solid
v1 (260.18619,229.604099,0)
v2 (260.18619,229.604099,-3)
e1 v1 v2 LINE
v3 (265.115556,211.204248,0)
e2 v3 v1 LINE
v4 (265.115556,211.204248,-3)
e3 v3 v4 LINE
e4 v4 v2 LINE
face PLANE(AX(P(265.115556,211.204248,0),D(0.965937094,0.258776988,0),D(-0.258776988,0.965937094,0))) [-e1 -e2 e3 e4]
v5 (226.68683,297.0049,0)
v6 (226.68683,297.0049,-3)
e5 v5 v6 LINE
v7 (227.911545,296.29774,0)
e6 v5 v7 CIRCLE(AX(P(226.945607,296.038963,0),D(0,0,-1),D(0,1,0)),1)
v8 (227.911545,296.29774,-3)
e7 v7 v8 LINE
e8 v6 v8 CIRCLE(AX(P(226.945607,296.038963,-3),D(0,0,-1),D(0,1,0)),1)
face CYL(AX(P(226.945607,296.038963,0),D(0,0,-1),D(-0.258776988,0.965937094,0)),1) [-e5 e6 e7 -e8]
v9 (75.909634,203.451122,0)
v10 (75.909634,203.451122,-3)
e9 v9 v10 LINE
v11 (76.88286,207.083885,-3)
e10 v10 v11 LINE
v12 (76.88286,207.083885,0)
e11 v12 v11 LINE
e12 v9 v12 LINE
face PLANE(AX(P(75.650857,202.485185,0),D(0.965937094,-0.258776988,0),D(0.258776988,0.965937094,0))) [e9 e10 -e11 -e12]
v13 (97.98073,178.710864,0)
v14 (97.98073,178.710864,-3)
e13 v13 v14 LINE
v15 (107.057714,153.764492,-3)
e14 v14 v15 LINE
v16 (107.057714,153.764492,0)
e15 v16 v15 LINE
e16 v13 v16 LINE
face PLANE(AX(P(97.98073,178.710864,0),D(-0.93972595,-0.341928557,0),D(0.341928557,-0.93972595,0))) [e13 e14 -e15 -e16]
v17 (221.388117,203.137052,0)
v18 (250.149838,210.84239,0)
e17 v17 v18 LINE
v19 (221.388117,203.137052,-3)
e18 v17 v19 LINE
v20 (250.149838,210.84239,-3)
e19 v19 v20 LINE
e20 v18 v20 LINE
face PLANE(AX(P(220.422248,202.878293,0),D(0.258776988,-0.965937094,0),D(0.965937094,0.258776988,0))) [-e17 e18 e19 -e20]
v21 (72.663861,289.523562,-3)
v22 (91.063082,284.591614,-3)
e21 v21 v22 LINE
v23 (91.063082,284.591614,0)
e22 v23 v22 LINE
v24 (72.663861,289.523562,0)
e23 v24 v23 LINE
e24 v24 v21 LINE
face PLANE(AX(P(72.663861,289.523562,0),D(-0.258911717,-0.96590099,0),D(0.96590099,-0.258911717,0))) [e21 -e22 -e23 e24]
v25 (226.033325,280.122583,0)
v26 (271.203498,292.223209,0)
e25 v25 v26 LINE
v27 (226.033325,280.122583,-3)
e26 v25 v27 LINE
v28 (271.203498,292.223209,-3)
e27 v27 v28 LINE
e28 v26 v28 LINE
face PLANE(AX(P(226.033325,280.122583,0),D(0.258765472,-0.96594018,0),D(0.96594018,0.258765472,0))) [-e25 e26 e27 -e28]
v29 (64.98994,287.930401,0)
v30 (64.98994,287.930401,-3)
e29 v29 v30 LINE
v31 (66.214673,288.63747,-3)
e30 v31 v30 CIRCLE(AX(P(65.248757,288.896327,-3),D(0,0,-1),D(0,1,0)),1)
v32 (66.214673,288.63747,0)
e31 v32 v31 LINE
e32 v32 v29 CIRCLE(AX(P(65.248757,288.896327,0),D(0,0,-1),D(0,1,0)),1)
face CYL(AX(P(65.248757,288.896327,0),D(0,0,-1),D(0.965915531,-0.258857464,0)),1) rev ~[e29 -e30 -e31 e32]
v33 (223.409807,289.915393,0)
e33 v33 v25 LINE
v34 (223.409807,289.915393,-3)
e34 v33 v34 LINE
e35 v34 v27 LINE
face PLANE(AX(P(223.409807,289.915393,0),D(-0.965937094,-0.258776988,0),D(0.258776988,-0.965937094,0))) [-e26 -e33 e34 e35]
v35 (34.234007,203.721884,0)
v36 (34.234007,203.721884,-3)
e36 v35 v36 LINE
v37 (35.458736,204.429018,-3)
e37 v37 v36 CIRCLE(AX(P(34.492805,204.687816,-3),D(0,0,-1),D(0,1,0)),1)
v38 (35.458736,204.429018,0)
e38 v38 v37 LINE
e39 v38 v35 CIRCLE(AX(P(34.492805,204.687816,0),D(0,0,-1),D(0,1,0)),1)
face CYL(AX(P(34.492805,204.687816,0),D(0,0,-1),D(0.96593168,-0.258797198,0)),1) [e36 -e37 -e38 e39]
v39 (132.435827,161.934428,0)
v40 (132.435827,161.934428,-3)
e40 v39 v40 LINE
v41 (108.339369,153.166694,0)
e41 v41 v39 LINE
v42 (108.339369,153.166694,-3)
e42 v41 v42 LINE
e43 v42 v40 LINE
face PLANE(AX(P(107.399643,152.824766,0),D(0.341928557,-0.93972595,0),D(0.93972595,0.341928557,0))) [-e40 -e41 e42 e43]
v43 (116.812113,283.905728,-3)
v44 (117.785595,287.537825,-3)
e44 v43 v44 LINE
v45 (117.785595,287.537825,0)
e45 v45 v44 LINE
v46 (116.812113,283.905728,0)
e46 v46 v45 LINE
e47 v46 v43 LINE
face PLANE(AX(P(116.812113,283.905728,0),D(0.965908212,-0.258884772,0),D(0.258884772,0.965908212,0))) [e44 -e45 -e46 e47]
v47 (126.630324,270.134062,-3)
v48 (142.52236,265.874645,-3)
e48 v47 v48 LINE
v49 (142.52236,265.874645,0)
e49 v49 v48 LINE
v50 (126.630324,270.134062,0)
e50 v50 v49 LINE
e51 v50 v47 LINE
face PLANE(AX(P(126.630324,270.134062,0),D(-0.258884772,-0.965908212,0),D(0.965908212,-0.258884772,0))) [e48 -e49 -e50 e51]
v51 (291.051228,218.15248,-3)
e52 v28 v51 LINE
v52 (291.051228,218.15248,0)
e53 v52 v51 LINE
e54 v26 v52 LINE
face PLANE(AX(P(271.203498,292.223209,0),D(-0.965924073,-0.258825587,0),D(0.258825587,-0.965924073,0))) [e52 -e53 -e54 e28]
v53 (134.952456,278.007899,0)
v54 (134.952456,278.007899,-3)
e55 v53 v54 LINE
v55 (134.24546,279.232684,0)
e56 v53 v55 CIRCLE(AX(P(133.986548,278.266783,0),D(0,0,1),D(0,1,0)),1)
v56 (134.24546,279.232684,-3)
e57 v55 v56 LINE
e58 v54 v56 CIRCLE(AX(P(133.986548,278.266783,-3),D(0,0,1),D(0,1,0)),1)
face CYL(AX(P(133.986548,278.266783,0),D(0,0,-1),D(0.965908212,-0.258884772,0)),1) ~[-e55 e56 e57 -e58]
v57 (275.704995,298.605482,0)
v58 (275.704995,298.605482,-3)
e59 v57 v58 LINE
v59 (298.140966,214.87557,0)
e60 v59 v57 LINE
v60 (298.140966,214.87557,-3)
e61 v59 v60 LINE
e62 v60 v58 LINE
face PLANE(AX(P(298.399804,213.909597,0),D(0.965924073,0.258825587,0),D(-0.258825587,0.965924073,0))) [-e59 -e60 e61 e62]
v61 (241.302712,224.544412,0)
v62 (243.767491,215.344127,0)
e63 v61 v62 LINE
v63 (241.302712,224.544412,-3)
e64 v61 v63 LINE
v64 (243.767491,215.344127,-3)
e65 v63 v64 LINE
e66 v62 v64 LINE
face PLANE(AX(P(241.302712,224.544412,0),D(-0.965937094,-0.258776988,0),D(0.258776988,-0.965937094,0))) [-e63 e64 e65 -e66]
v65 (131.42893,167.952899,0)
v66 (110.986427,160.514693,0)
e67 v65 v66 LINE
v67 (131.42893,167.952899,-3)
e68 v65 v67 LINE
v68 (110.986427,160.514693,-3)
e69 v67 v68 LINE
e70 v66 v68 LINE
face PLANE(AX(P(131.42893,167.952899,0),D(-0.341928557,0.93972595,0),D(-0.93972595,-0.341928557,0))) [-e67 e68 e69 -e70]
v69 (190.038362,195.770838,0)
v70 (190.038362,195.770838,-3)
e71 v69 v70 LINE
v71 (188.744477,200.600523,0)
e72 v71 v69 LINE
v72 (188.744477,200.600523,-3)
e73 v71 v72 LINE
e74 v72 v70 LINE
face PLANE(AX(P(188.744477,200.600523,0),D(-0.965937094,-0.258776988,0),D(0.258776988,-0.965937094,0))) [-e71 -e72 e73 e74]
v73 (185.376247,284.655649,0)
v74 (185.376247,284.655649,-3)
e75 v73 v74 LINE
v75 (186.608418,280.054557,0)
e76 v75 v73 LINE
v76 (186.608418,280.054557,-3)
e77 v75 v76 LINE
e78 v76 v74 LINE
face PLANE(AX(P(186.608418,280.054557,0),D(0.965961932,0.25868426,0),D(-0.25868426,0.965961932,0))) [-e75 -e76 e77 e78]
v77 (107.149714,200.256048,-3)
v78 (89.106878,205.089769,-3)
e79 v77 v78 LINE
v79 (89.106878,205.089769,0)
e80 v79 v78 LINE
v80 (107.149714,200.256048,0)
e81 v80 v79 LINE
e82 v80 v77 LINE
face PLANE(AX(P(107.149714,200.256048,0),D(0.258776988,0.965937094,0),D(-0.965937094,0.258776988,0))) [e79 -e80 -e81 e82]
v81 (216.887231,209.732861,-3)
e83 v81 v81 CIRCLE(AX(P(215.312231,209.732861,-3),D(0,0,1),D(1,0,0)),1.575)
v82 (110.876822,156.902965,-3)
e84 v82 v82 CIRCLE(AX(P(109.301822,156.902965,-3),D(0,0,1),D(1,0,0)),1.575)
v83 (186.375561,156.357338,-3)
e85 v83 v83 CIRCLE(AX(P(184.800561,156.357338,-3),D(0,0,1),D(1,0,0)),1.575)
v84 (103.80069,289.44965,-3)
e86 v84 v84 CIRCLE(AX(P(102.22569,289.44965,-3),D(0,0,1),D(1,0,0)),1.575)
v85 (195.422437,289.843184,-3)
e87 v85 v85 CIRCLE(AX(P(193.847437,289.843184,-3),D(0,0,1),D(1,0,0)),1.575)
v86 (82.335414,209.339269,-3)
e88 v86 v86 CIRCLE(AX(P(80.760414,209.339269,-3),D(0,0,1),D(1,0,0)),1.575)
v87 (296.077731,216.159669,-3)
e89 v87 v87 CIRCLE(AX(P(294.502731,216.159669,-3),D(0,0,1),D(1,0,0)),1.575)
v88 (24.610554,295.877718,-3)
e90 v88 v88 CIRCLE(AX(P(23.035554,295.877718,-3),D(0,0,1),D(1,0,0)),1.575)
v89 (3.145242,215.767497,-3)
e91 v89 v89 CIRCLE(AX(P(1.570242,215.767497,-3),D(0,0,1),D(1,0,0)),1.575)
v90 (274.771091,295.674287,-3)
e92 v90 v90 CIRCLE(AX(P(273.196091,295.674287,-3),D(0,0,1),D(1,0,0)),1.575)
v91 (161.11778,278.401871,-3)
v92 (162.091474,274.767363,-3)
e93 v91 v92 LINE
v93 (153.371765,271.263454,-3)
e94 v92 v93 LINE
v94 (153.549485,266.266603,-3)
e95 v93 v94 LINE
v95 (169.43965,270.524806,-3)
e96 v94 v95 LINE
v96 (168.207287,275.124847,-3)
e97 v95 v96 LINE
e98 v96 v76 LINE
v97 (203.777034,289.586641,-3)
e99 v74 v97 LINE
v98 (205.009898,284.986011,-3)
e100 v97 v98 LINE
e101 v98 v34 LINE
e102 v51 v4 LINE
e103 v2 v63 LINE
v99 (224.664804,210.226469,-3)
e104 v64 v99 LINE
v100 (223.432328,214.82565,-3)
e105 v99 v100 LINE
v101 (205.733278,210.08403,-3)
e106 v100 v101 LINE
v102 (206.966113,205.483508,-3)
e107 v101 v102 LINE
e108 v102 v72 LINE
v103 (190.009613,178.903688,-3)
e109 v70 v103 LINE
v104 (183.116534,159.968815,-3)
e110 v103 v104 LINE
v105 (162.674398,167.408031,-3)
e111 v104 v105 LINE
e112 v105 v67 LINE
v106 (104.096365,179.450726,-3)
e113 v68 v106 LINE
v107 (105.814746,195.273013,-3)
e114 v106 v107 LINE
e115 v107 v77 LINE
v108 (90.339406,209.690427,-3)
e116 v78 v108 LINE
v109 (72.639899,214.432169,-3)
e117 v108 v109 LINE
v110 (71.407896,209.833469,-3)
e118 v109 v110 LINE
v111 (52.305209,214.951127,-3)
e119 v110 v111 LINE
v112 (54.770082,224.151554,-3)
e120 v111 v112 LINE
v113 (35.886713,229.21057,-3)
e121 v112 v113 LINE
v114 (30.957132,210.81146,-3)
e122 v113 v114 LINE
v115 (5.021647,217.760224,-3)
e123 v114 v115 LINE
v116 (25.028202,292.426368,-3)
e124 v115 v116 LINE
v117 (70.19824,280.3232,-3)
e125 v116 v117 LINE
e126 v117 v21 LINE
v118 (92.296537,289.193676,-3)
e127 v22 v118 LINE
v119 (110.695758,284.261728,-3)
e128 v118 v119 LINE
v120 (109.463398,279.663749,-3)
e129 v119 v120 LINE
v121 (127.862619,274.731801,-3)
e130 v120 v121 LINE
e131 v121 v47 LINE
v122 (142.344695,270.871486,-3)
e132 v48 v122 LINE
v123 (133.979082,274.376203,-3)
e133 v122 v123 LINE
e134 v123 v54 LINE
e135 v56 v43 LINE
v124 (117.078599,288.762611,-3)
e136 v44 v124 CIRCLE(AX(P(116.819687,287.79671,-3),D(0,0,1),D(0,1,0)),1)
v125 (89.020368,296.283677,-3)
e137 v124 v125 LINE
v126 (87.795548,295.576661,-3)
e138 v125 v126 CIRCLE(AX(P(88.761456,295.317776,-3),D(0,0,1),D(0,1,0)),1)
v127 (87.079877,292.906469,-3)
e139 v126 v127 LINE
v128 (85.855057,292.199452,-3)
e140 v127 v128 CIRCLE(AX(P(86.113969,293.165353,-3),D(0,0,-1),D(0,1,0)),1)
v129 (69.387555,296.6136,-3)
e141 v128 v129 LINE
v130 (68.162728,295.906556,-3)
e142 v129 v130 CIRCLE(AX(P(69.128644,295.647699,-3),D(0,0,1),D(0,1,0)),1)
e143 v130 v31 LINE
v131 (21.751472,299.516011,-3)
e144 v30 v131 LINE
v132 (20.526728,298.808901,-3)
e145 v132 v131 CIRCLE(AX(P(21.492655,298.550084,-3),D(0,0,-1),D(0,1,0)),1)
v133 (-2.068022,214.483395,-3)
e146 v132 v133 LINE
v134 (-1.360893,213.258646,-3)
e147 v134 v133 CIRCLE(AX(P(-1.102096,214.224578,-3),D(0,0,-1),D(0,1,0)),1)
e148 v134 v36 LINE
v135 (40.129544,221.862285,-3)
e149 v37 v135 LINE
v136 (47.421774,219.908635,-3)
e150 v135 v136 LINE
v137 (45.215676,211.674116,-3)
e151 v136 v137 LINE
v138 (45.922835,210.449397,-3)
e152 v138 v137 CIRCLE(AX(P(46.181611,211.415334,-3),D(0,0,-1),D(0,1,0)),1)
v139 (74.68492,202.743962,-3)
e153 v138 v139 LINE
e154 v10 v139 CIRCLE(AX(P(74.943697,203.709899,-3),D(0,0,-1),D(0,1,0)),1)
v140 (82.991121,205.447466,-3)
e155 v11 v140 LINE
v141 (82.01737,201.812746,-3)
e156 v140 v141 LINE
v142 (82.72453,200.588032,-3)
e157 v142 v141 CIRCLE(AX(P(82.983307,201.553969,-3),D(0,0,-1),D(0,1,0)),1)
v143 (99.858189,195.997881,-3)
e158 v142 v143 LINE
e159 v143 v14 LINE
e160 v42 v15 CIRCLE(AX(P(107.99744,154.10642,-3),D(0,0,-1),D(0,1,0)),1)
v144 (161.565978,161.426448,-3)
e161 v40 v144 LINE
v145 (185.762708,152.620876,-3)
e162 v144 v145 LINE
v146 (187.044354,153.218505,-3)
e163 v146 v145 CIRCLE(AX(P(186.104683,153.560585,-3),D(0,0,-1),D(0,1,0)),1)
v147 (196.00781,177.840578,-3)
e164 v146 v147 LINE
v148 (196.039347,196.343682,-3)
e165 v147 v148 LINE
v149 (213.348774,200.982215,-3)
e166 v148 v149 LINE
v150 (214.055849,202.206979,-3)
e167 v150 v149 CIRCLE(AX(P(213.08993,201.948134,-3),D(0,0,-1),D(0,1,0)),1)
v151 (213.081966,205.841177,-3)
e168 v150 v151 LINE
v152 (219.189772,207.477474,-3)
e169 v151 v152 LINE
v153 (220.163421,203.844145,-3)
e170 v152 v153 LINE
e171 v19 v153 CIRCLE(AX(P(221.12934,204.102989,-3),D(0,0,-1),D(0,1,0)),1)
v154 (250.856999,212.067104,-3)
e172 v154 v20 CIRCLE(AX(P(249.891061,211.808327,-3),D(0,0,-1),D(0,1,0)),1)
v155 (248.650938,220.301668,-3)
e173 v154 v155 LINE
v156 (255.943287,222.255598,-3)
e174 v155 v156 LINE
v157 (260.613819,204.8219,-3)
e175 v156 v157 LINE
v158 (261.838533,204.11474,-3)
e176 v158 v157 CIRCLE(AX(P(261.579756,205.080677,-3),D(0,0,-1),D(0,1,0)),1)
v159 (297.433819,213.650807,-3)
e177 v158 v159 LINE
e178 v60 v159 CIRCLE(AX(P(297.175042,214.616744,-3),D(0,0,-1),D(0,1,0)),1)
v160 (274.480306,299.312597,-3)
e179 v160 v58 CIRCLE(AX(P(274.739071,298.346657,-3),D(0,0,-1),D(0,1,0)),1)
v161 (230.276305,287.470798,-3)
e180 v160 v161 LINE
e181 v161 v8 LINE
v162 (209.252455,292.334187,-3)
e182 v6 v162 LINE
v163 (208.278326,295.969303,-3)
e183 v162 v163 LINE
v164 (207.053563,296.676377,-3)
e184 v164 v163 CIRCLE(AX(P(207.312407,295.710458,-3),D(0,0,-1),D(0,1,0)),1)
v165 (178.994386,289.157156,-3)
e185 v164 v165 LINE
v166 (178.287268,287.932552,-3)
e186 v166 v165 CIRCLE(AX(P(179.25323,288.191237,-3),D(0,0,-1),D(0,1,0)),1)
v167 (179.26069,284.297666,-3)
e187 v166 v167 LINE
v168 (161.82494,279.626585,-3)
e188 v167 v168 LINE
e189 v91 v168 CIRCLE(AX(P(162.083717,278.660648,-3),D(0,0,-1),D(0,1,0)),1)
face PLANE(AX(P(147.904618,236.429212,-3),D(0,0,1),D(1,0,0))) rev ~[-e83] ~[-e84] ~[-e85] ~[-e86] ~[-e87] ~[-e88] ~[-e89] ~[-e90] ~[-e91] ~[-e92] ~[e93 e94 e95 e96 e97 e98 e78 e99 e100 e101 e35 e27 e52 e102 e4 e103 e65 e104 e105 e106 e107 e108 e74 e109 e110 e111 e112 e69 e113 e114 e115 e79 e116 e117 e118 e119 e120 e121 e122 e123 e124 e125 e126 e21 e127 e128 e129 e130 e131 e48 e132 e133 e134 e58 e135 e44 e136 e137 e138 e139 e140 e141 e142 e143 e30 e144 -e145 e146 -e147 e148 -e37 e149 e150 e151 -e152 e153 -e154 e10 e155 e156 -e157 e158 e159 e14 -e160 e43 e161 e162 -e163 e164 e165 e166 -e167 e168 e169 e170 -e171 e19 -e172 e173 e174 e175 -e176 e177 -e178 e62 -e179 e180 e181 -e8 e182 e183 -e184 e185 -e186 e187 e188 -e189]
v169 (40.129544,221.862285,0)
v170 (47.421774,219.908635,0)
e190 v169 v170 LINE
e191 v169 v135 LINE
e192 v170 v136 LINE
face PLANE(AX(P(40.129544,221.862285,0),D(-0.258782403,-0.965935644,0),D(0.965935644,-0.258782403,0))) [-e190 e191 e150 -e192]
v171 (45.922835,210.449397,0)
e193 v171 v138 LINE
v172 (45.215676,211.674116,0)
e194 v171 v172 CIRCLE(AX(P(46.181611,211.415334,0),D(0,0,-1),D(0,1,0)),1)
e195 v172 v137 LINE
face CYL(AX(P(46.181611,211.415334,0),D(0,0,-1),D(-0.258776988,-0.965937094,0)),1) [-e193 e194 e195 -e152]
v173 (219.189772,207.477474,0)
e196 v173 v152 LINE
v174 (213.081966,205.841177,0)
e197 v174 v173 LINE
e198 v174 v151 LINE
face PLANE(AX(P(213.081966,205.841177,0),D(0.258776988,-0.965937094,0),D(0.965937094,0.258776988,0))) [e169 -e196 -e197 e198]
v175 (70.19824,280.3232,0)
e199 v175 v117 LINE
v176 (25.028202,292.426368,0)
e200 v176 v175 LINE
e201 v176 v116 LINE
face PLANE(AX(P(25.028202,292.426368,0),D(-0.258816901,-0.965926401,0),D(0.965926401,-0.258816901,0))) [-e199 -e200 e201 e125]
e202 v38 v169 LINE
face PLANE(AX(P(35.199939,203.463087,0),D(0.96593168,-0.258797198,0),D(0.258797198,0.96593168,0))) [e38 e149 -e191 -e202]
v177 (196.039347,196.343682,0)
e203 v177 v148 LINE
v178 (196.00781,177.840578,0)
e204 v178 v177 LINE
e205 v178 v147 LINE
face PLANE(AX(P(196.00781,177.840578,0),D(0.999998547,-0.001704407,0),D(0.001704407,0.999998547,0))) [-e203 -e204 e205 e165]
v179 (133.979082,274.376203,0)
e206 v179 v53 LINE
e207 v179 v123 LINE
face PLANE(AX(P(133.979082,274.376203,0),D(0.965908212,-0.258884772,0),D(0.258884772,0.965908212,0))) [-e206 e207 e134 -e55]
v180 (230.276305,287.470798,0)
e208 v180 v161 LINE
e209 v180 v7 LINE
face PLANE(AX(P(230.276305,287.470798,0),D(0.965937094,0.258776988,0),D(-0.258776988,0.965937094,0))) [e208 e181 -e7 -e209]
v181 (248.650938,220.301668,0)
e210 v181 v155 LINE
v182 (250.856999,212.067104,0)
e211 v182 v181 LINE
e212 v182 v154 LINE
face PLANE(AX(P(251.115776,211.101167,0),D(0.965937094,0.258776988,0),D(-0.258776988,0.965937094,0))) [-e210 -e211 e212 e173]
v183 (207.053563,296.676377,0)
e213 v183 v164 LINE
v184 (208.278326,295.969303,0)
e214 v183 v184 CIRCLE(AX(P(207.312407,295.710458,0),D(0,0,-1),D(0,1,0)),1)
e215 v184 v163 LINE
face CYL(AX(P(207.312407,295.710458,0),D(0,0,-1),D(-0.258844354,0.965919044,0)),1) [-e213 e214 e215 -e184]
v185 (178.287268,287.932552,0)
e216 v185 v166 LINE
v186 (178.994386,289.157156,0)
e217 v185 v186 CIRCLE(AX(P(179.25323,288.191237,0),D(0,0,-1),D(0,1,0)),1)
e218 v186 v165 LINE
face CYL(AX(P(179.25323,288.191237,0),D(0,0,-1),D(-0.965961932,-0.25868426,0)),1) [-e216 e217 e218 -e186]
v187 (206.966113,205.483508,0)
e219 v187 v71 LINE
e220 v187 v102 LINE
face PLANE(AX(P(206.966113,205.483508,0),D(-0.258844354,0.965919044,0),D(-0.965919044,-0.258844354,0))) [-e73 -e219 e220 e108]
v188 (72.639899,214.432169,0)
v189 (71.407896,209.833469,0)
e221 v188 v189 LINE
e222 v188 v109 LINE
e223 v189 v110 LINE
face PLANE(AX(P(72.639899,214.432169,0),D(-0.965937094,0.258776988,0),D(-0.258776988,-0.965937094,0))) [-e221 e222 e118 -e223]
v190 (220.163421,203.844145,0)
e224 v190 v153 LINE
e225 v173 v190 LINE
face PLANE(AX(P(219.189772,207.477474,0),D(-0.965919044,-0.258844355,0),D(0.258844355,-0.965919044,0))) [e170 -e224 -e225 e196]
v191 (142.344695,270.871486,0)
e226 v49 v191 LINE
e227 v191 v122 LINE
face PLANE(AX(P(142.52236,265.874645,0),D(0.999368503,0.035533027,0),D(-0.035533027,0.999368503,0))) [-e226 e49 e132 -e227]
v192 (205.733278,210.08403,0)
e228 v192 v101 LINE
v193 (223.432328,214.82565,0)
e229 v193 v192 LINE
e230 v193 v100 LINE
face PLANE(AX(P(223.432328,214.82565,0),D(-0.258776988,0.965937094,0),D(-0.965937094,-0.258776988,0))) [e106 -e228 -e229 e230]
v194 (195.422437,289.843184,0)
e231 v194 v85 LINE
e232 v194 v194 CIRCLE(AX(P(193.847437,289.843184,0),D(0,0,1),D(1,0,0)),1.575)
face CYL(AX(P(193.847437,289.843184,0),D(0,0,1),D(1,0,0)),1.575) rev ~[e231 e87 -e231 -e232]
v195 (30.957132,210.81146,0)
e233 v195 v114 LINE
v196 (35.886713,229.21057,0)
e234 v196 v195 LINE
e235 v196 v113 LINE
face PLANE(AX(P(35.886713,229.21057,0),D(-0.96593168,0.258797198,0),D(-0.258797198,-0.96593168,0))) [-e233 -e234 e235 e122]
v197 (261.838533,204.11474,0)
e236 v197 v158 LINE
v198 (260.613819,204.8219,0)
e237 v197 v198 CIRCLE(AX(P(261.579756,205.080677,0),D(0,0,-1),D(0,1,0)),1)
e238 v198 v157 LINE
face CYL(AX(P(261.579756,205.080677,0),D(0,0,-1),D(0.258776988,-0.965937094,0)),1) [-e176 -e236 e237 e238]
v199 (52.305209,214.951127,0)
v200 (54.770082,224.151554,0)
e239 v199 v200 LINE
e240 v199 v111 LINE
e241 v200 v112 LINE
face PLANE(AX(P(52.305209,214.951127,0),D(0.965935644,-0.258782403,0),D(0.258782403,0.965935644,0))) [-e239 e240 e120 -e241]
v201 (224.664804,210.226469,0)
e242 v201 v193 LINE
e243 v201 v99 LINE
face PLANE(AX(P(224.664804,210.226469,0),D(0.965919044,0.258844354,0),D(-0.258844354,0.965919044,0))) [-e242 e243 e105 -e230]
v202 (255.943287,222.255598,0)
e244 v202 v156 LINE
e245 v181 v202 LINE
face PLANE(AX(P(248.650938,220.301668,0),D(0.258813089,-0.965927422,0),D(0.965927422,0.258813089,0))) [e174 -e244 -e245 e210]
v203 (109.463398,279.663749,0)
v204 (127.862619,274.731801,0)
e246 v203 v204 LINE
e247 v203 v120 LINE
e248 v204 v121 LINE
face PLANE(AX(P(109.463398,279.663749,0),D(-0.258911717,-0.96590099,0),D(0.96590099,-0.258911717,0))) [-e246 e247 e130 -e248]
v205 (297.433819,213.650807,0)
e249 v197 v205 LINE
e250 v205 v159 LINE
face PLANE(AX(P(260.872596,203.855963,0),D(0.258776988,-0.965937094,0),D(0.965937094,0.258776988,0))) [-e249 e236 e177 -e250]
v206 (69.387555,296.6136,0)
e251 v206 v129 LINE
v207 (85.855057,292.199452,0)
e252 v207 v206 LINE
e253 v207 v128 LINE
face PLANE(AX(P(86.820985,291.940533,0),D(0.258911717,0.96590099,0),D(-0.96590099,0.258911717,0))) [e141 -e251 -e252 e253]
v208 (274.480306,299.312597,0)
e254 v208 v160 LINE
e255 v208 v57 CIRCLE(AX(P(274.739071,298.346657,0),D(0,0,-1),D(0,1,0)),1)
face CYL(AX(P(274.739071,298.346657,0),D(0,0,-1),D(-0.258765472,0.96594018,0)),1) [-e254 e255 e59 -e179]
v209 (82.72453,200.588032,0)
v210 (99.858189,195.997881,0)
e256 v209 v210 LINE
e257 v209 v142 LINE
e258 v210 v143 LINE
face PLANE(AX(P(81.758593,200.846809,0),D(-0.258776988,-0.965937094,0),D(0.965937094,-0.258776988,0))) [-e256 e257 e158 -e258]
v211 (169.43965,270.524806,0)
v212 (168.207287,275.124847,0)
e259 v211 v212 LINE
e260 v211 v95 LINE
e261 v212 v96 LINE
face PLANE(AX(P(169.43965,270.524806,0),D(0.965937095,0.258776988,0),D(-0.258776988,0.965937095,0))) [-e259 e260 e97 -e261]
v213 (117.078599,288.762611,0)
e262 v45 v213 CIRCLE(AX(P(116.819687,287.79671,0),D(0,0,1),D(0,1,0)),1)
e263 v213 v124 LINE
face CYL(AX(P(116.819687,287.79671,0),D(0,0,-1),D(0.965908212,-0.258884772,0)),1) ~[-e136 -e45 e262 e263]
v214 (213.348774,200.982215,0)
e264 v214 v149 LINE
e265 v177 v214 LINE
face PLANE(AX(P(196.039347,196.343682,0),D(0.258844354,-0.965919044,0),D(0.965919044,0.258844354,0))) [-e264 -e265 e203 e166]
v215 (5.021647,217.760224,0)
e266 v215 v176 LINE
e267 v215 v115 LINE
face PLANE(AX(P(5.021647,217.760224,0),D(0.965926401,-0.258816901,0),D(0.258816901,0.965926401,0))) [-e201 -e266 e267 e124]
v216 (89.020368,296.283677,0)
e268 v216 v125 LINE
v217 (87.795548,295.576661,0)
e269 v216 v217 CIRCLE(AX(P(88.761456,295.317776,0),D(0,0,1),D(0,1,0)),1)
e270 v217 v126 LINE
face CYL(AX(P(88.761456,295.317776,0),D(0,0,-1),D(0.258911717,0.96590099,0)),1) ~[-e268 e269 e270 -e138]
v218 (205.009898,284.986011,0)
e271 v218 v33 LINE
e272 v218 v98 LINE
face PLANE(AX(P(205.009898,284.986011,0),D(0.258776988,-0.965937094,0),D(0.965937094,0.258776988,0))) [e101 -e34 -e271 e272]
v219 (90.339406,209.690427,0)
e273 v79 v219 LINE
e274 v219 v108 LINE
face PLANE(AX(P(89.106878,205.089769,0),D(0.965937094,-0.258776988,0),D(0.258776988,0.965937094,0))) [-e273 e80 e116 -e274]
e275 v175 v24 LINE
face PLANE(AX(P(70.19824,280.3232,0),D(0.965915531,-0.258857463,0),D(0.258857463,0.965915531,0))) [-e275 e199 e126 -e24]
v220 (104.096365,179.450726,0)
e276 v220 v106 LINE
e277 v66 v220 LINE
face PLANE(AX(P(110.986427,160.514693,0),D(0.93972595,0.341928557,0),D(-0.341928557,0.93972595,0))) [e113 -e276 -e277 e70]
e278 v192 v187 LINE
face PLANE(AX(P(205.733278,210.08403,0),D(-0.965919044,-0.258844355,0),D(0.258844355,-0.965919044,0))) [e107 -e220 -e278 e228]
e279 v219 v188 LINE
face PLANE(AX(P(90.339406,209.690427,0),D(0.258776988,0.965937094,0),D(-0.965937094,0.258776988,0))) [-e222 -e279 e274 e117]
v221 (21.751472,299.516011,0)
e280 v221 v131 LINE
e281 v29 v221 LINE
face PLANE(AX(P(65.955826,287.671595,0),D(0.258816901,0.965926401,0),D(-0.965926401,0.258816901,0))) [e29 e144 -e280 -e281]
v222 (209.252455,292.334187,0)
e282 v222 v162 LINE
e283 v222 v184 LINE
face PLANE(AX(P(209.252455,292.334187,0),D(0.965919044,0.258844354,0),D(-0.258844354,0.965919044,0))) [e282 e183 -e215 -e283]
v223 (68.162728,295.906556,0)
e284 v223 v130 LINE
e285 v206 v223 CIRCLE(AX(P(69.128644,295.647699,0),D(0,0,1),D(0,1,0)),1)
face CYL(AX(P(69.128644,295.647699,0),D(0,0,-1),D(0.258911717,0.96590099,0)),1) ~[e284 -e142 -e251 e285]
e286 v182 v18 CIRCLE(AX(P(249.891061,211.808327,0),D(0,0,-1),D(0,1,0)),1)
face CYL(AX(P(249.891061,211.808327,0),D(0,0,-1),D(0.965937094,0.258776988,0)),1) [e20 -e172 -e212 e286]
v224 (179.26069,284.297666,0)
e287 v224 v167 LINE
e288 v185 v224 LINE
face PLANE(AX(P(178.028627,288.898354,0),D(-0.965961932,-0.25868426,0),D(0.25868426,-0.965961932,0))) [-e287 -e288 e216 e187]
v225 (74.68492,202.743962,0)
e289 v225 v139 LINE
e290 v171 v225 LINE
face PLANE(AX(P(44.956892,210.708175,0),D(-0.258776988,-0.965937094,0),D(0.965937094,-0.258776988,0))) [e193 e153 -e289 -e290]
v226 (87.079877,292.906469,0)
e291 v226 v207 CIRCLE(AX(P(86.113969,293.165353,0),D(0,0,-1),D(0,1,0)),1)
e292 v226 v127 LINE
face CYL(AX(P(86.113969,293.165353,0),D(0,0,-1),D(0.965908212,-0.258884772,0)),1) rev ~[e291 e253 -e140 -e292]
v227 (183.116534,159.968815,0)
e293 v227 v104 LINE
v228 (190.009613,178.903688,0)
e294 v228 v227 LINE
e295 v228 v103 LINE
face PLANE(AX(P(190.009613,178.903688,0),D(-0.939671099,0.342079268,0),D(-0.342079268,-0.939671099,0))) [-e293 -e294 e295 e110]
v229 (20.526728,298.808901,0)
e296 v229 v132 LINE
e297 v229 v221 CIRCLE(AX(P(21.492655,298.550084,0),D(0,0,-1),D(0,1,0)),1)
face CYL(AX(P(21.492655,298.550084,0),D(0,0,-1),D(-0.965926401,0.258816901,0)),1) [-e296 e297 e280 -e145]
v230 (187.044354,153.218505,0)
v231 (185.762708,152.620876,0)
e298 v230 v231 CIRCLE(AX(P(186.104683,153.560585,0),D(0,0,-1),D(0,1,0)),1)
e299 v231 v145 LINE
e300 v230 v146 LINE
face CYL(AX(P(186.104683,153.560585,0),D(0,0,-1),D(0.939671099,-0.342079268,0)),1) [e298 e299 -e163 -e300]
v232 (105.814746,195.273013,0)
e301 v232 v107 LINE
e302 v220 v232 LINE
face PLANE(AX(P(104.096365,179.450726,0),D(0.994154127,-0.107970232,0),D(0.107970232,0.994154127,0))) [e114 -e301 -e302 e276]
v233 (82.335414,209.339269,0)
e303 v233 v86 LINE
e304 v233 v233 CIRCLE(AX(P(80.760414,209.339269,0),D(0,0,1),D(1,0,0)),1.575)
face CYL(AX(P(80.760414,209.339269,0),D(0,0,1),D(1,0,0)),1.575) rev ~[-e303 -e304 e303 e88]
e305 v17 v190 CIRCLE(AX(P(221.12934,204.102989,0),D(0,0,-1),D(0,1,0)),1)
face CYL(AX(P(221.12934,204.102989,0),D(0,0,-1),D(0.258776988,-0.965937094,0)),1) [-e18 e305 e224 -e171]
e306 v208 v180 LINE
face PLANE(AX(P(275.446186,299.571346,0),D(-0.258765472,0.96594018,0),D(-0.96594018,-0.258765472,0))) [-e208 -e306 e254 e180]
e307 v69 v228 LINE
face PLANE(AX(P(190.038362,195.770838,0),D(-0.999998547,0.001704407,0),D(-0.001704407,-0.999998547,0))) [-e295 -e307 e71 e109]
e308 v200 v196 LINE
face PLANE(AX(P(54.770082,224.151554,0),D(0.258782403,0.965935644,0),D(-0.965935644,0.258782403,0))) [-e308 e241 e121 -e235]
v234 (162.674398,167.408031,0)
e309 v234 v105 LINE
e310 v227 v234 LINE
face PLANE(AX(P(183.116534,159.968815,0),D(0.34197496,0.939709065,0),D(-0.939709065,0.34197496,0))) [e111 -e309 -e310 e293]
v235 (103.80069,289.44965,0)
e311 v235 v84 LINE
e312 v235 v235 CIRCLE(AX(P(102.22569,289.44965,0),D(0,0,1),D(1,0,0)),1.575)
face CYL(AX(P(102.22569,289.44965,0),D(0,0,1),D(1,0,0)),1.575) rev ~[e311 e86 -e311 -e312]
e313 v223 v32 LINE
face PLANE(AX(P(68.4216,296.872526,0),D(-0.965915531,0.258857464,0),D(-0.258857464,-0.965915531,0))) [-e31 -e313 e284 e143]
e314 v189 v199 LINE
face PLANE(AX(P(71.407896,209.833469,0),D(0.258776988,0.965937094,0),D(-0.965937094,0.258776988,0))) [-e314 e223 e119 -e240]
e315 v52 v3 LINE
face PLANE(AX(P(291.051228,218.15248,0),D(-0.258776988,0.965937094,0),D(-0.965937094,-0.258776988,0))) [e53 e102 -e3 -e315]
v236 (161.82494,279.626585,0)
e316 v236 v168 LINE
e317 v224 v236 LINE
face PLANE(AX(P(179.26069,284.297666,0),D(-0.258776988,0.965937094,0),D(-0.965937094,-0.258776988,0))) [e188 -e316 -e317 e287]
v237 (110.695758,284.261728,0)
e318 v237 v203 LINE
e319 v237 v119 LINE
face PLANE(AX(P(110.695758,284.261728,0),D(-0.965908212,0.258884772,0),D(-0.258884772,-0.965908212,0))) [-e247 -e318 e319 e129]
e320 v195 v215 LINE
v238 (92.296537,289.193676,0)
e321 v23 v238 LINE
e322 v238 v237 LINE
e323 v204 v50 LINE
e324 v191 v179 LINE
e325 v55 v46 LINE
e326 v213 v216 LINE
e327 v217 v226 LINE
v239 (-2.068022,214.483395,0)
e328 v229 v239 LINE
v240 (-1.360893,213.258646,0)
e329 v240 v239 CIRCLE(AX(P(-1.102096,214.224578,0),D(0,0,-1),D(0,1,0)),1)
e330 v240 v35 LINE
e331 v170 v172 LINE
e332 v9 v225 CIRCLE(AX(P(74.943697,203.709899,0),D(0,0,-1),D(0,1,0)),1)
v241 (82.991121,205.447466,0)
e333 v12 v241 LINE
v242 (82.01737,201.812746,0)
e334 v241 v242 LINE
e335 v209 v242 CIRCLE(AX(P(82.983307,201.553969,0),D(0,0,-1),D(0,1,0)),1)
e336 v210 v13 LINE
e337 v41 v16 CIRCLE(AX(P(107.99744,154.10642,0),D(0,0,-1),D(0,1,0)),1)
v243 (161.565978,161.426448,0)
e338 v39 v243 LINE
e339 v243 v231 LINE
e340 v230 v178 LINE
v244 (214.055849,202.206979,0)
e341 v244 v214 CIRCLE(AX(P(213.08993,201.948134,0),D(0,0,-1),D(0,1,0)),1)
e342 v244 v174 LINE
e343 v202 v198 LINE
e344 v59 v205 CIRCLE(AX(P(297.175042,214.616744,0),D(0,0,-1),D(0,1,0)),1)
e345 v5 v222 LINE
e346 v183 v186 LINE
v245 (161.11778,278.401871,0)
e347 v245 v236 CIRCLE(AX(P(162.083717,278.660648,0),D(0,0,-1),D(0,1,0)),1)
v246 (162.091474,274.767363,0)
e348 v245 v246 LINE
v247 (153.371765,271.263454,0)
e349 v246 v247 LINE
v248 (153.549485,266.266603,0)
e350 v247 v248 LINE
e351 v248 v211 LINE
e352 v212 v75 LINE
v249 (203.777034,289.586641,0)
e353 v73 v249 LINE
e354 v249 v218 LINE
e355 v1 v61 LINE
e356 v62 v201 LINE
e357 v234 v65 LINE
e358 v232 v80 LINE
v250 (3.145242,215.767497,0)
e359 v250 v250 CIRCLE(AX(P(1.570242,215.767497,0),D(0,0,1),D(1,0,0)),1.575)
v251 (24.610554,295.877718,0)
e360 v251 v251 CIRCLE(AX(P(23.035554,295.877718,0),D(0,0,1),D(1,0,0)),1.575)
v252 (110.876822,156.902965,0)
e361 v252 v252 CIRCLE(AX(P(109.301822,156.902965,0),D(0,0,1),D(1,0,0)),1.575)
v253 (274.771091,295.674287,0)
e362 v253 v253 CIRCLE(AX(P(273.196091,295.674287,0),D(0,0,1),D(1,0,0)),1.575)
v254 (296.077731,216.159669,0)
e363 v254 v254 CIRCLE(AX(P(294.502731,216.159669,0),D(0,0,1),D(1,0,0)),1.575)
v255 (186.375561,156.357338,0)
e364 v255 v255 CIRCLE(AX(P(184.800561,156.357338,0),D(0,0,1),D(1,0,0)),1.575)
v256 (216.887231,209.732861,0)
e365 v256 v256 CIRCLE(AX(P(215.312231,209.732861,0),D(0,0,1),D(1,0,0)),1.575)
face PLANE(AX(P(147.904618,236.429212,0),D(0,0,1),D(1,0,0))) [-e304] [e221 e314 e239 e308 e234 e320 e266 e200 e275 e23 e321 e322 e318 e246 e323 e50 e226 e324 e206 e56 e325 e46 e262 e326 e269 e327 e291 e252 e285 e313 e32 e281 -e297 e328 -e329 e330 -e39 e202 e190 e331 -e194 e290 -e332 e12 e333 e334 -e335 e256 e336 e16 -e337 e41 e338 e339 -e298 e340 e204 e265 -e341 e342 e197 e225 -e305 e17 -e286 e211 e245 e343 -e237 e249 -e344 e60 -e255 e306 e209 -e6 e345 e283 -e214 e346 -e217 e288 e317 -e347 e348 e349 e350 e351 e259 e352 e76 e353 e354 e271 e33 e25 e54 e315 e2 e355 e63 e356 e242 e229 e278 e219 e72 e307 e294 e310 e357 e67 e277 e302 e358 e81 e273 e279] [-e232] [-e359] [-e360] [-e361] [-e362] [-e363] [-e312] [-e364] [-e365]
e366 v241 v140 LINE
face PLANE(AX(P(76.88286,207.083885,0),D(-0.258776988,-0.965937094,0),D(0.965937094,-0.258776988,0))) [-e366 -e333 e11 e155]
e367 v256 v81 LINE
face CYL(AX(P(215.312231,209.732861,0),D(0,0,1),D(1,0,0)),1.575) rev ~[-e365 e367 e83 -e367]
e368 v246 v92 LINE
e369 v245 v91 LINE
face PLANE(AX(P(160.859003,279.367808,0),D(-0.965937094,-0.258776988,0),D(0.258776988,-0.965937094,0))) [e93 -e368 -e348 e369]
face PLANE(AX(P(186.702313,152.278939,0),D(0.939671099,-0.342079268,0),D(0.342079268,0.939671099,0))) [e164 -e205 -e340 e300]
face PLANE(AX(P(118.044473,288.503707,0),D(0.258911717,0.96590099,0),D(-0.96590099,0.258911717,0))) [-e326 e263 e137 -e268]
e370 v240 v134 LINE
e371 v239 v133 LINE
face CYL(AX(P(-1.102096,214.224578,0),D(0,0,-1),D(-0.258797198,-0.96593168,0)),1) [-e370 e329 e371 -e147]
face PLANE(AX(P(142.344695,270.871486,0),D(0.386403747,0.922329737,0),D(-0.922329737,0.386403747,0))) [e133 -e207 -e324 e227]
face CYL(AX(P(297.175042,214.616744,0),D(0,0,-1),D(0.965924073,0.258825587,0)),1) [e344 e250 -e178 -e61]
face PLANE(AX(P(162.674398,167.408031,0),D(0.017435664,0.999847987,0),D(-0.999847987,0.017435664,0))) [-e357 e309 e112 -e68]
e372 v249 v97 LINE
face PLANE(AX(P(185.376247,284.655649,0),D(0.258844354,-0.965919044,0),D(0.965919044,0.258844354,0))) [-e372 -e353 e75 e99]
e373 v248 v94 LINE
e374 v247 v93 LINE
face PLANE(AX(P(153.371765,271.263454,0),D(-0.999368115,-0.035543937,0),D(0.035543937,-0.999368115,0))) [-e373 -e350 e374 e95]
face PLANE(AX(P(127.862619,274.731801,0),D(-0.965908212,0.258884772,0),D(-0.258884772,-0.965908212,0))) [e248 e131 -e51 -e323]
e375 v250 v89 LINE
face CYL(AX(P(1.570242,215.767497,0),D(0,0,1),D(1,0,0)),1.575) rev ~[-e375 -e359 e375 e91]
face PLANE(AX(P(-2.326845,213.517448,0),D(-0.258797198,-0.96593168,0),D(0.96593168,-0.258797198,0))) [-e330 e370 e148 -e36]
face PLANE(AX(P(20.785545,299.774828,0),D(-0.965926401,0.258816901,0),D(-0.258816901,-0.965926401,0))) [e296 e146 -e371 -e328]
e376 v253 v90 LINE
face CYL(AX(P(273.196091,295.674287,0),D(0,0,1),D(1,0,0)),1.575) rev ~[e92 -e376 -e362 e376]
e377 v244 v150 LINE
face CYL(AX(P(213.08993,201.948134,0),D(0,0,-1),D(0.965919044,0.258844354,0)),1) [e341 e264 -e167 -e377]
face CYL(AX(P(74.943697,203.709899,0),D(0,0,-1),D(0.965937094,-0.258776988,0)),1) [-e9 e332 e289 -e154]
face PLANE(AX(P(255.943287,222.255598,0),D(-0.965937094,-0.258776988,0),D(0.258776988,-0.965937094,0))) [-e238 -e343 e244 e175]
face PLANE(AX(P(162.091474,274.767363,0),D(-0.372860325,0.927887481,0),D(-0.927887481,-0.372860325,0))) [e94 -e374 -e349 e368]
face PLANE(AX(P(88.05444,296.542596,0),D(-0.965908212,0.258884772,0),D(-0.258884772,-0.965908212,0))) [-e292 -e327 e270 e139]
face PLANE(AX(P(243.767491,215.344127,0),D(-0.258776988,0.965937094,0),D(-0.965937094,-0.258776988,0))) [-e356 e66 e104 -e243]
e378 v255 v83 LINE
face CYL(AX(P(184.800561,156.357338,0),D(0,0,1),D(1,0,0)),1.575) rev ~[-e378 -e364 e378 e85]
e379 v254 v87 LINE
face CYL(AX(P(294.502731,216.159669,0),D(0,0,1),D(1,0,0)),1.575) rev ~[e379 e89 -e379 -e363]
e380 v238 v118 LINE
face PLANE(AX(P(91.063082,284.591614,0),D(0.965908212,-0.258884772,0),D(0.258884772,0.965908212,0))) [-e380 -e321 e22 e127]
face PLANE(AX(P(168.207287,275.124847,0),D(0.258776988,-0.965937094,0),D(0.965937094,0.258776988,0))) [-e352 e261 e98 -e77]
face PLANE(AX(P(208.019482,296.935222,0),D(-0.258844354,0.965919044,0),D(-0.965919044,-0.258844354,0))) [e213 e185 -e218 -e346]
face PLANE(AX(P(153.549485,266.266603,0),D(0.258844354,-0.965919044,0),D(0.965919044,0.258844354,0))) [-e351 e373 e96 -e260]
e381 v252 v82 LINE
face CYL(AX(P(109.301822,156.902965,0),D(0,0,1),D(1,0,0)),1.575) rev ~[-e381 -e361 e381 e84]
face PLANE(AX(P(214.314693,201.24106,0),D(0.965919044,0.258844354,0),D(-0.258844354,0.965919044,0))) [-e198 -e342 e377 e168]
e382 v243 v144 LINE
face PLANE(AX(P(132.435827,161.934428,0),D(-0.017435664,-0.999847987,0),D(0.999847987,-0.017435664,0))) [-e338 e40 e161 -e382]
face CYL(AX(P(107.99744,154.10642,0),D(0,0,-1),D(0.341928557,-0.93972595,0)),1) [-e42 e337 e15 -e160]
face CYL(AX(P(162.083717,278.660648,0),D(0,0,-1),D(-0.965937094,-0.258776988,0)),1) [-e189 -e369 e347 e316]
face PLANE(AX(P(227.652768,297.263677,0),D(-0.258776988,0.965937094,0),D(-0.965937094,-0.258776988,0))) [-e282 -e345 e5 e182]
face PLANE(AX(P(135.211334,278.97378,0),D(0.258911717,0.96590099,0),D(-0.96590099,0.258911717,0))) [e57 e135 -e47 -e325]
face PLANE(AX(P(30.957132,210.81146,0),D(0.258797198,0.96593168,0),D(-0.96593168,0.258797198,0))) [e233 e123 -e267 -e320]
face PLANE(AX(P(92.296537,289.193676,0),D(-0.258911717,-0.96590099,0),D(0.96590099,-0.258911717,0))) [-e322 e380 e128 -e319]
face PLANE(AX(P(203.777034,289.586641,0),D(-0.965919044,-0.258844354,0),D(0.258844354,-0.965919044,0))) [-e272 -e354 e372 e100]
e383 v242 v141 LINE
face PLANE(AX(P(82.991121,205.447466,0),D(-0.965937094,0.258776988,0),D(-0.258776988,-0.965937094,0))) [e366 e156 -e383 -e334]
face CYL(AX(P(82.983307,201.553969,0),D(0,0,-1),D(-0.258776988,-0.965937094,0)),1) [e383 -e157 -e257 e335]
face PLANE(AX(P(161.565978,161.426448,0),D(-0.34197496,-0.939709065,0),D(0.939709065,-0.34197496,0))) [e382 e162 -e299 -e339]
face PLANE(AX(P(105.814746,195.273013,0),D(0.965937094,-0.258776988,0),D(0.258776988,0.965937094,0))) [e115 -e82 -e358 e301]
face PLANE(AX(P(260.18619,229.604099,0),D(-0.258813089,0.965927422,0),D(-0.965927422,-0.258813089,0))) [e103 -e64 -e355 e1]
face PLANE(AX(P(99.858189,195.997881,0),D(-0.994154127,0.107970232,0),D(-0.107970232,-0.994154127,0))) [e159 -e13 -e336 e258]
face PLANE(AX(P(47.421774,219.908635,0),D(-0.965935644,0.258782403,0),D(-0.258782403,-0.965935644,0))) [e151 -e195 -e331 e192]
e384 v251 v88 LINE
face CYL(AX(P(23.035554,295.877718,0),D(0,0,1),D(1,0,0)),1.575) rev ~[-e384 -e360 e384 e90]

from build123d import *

# Parameters (mm, degrees)
MODEL_R             = 1.575
BOSS_EXTRUDE1_DEPTH = 3
FILLET1_R           = 1


with BuildPart() as part:
    # Model → Boss-Extrude1 (new body)
    with BuildSketch(Plane.XY):
        Polygon((271.203498451, 292.223209107), (291.05122826, 218.15247975), (265.115556398, 211.204247731), (260.186189629, 229.604099473), (241.30271159, 224.544411578), (243.767491017, 215.34412721), (224.664804007, 210.226469096), (223.432328054, 214.825649934), (205.733277658, 210.084029615), (206.966112962, 205.483507804), (188.744476932, 200.600523414), (190.038361872, 195.770837942), (190.009613349, 178.903688177), (183.116533861, 159.968814913), (162.674398087, 167.40803076), (131.428930231, 167.95289908), (110.986427135, 160.514692668), (104.096364698, 179.45072575), (105.814746135, 195.273012707), (107.149713912, 200.256048118), (89.106877808, 205.089769496), (90.339405557, 209.690426923), (72.639899407, 214.432169339), (71.407895987, 209.833469074), (52.305208977, 214.951127188), (54.770081908, 224.151554257), (35.886712889, 229.210569975), (30.957132238, 210.811459981), (5.0216469, 217.76022363), (25.028202346, 292.426367848), (70.198239559, 280.323200295), (72.663861356, 289.523562363), (91.063082461, 284.591613875), (92.29653696, 289.193676092), (110.695758065, 284.261727603), (109.463398178, 279.663749421), (127.862619282, 274.731800932), (126.630323598, 270.134062294), (142.522359716, 265.874644989), (142.344694619, 270.871486432), (133.979081507, 274.376202933), (135.211333861, 278.973779905), (116.812112756, 283.905728394), (118.044472643, 288.503706576), (88.054439652, 296.542595671), (86.820985153, 291.940533454), (68.42160019, 296.872525865), (65.955825932, 287.671594898), (20.785545351, 299.774827661), (-2.32684459, 213.517448416), (35.199939127, 203.463086712), (40.129543563, 221.862285479), (47.421773629, 219.90863481), (44.956891994, 210.708175253), (75.650856625, 202.485184579), (76.882860045, 207.083884844), (82.991121062, 205.447466285), (81.758593313, 200.846808858), (99.858189105, 195.997881416), (97.980730454, 178.710864183), (107.399642776, 152.824765622), (132.435827139, 161.934428279), (161.565977706, 161.426447529), (186.702312667, 152.27893851), (196.007810089, 177.840578221), (196.039346948, 196.343682115), (214.314693354, 201.241059665), (213.081966369, 205.841177268), (219.189771603, 207.477473721), (220.422247557, 202.878292884), (251.115775513, 211.101166572), (248.650938057, 220.301667543), (255.943287021, 222.255598366), (260.87259576, 203.855963236), (298.39980436, 213.909597233), (275.446186014, 299.571346393), (230.276304619, 287.470798216), (227.65276755, 297.263677376), (209.252454514, 292.334187025), (208.019481767, 296.93522173), (178.028627015, 288.898354165), (179.260689602, 284.297666211), (160.85900272, 279.367807803), (162.091473536, 274.767362889), (153.371764929, 271.263453794), (153.549484965, 266.266603363), (169.439649748, 270.524806438), (168.207287216, 275.124847165), (186.60841776, 280.054556529), (185.376246939, 284.655648642), (203.777033628, 289.586641337), (205.009898064, 284.986010813), (223.409806911, 289.915392881), (226.033325469, 280.122582817), align=None)
        with Locations((23.035554, 295.877718337)):
            Circle(MODEL_R, mode=Mode.SUBTRACT)
        with Locations((109.301822433, 156.902965293)):
            Circle(MODEL_R, mode=Mode.SUBTRACT)
        with Locations((184.800560745, 156.35733766)):
            Circle(MODEL_R, mode=Mode.SUBTRACT)
        with Locations((193.847437398, 289.84318413)):
            Circle(MODEL_R, mode=Mode.SUBTRACT)
        with Locations((102.225689846, 289.449650012)):
            Circle(MODEL_R, mode=Mode.SUBTRACT)
        with Locations((273.19609114, 295.674286852)):
            Circle(MODEL_R, mode=Mode.SUBTRACT)
        with Locations((1.570241786, 215.767496811)):
            Circle(MODEL_R, mode=Mode.SUBTRACT)
        with Locations((294.502731407, 216.159668876)):
            Circle(MODEL_R, mode=Mode.SUBTRACT)
        with Locations((80.760413887, 209.339268578)):
            Circle(MODEL_R, mode=Mode.SUBTRACT)
        with Locations((215.312231294, 209.732861073)):
            Circle(MODEL_R, mode=Mode.SUBTRACT)
    extrude(amount=-BOSS_EXTRUDE1_DEPTH)

    # Fillet1
    fillet1_edges = [part.edges().sort_by_distance(p)[0] for p in [
        (160.85900272, 279.367807803, -1.5),
        (178.028627015, 288.898354165, -1.5),
        (208.019481767, 296.93522173, -1.5),
        (227.65276755, 297.263677376, -1.5),
        (275.446186014, 299.571346393, -1.5),
        (298.39980436, 213.909597233, -1.5),
        (260.87259576, 203.855963236, -1.5),
        (251.115775513, 211.101166572, -1.5),
        (220.422247557, 202.878292884, -1.5),
        (214.314693354, 201.241059665, -1.5),
        (186.702312667, 152.27893851, -1.5),
        (107.399642776, 152.824765622, -1.5),
        (81.758593313, 200.846808858, -1.5),
        (75.650856625, 202.485184579, -1.5),
        (44.956891994, 210.708175253, -1.5),
        (35.199939127, 203.463086712, -1.5),
        (-2.32684459, 213.517448416, -1.5),
        (20.785545351, 299.774827661, -1.5),
        (65.955825932, 287.671594898, -1.5),
        (68.42160019, 296.872525865, -1.5),
        (86.820985153, 291.940533454, -1.5),
        (88.054439652, 296.542595671, -1.5),
        (118.044472643, 288.503706576, -1.5),
        (135.211333861, 278.973779905, -1.5),
    ]]
    fillet(fillet1_edges, radius=FILLET1_R)


solid = part.part
